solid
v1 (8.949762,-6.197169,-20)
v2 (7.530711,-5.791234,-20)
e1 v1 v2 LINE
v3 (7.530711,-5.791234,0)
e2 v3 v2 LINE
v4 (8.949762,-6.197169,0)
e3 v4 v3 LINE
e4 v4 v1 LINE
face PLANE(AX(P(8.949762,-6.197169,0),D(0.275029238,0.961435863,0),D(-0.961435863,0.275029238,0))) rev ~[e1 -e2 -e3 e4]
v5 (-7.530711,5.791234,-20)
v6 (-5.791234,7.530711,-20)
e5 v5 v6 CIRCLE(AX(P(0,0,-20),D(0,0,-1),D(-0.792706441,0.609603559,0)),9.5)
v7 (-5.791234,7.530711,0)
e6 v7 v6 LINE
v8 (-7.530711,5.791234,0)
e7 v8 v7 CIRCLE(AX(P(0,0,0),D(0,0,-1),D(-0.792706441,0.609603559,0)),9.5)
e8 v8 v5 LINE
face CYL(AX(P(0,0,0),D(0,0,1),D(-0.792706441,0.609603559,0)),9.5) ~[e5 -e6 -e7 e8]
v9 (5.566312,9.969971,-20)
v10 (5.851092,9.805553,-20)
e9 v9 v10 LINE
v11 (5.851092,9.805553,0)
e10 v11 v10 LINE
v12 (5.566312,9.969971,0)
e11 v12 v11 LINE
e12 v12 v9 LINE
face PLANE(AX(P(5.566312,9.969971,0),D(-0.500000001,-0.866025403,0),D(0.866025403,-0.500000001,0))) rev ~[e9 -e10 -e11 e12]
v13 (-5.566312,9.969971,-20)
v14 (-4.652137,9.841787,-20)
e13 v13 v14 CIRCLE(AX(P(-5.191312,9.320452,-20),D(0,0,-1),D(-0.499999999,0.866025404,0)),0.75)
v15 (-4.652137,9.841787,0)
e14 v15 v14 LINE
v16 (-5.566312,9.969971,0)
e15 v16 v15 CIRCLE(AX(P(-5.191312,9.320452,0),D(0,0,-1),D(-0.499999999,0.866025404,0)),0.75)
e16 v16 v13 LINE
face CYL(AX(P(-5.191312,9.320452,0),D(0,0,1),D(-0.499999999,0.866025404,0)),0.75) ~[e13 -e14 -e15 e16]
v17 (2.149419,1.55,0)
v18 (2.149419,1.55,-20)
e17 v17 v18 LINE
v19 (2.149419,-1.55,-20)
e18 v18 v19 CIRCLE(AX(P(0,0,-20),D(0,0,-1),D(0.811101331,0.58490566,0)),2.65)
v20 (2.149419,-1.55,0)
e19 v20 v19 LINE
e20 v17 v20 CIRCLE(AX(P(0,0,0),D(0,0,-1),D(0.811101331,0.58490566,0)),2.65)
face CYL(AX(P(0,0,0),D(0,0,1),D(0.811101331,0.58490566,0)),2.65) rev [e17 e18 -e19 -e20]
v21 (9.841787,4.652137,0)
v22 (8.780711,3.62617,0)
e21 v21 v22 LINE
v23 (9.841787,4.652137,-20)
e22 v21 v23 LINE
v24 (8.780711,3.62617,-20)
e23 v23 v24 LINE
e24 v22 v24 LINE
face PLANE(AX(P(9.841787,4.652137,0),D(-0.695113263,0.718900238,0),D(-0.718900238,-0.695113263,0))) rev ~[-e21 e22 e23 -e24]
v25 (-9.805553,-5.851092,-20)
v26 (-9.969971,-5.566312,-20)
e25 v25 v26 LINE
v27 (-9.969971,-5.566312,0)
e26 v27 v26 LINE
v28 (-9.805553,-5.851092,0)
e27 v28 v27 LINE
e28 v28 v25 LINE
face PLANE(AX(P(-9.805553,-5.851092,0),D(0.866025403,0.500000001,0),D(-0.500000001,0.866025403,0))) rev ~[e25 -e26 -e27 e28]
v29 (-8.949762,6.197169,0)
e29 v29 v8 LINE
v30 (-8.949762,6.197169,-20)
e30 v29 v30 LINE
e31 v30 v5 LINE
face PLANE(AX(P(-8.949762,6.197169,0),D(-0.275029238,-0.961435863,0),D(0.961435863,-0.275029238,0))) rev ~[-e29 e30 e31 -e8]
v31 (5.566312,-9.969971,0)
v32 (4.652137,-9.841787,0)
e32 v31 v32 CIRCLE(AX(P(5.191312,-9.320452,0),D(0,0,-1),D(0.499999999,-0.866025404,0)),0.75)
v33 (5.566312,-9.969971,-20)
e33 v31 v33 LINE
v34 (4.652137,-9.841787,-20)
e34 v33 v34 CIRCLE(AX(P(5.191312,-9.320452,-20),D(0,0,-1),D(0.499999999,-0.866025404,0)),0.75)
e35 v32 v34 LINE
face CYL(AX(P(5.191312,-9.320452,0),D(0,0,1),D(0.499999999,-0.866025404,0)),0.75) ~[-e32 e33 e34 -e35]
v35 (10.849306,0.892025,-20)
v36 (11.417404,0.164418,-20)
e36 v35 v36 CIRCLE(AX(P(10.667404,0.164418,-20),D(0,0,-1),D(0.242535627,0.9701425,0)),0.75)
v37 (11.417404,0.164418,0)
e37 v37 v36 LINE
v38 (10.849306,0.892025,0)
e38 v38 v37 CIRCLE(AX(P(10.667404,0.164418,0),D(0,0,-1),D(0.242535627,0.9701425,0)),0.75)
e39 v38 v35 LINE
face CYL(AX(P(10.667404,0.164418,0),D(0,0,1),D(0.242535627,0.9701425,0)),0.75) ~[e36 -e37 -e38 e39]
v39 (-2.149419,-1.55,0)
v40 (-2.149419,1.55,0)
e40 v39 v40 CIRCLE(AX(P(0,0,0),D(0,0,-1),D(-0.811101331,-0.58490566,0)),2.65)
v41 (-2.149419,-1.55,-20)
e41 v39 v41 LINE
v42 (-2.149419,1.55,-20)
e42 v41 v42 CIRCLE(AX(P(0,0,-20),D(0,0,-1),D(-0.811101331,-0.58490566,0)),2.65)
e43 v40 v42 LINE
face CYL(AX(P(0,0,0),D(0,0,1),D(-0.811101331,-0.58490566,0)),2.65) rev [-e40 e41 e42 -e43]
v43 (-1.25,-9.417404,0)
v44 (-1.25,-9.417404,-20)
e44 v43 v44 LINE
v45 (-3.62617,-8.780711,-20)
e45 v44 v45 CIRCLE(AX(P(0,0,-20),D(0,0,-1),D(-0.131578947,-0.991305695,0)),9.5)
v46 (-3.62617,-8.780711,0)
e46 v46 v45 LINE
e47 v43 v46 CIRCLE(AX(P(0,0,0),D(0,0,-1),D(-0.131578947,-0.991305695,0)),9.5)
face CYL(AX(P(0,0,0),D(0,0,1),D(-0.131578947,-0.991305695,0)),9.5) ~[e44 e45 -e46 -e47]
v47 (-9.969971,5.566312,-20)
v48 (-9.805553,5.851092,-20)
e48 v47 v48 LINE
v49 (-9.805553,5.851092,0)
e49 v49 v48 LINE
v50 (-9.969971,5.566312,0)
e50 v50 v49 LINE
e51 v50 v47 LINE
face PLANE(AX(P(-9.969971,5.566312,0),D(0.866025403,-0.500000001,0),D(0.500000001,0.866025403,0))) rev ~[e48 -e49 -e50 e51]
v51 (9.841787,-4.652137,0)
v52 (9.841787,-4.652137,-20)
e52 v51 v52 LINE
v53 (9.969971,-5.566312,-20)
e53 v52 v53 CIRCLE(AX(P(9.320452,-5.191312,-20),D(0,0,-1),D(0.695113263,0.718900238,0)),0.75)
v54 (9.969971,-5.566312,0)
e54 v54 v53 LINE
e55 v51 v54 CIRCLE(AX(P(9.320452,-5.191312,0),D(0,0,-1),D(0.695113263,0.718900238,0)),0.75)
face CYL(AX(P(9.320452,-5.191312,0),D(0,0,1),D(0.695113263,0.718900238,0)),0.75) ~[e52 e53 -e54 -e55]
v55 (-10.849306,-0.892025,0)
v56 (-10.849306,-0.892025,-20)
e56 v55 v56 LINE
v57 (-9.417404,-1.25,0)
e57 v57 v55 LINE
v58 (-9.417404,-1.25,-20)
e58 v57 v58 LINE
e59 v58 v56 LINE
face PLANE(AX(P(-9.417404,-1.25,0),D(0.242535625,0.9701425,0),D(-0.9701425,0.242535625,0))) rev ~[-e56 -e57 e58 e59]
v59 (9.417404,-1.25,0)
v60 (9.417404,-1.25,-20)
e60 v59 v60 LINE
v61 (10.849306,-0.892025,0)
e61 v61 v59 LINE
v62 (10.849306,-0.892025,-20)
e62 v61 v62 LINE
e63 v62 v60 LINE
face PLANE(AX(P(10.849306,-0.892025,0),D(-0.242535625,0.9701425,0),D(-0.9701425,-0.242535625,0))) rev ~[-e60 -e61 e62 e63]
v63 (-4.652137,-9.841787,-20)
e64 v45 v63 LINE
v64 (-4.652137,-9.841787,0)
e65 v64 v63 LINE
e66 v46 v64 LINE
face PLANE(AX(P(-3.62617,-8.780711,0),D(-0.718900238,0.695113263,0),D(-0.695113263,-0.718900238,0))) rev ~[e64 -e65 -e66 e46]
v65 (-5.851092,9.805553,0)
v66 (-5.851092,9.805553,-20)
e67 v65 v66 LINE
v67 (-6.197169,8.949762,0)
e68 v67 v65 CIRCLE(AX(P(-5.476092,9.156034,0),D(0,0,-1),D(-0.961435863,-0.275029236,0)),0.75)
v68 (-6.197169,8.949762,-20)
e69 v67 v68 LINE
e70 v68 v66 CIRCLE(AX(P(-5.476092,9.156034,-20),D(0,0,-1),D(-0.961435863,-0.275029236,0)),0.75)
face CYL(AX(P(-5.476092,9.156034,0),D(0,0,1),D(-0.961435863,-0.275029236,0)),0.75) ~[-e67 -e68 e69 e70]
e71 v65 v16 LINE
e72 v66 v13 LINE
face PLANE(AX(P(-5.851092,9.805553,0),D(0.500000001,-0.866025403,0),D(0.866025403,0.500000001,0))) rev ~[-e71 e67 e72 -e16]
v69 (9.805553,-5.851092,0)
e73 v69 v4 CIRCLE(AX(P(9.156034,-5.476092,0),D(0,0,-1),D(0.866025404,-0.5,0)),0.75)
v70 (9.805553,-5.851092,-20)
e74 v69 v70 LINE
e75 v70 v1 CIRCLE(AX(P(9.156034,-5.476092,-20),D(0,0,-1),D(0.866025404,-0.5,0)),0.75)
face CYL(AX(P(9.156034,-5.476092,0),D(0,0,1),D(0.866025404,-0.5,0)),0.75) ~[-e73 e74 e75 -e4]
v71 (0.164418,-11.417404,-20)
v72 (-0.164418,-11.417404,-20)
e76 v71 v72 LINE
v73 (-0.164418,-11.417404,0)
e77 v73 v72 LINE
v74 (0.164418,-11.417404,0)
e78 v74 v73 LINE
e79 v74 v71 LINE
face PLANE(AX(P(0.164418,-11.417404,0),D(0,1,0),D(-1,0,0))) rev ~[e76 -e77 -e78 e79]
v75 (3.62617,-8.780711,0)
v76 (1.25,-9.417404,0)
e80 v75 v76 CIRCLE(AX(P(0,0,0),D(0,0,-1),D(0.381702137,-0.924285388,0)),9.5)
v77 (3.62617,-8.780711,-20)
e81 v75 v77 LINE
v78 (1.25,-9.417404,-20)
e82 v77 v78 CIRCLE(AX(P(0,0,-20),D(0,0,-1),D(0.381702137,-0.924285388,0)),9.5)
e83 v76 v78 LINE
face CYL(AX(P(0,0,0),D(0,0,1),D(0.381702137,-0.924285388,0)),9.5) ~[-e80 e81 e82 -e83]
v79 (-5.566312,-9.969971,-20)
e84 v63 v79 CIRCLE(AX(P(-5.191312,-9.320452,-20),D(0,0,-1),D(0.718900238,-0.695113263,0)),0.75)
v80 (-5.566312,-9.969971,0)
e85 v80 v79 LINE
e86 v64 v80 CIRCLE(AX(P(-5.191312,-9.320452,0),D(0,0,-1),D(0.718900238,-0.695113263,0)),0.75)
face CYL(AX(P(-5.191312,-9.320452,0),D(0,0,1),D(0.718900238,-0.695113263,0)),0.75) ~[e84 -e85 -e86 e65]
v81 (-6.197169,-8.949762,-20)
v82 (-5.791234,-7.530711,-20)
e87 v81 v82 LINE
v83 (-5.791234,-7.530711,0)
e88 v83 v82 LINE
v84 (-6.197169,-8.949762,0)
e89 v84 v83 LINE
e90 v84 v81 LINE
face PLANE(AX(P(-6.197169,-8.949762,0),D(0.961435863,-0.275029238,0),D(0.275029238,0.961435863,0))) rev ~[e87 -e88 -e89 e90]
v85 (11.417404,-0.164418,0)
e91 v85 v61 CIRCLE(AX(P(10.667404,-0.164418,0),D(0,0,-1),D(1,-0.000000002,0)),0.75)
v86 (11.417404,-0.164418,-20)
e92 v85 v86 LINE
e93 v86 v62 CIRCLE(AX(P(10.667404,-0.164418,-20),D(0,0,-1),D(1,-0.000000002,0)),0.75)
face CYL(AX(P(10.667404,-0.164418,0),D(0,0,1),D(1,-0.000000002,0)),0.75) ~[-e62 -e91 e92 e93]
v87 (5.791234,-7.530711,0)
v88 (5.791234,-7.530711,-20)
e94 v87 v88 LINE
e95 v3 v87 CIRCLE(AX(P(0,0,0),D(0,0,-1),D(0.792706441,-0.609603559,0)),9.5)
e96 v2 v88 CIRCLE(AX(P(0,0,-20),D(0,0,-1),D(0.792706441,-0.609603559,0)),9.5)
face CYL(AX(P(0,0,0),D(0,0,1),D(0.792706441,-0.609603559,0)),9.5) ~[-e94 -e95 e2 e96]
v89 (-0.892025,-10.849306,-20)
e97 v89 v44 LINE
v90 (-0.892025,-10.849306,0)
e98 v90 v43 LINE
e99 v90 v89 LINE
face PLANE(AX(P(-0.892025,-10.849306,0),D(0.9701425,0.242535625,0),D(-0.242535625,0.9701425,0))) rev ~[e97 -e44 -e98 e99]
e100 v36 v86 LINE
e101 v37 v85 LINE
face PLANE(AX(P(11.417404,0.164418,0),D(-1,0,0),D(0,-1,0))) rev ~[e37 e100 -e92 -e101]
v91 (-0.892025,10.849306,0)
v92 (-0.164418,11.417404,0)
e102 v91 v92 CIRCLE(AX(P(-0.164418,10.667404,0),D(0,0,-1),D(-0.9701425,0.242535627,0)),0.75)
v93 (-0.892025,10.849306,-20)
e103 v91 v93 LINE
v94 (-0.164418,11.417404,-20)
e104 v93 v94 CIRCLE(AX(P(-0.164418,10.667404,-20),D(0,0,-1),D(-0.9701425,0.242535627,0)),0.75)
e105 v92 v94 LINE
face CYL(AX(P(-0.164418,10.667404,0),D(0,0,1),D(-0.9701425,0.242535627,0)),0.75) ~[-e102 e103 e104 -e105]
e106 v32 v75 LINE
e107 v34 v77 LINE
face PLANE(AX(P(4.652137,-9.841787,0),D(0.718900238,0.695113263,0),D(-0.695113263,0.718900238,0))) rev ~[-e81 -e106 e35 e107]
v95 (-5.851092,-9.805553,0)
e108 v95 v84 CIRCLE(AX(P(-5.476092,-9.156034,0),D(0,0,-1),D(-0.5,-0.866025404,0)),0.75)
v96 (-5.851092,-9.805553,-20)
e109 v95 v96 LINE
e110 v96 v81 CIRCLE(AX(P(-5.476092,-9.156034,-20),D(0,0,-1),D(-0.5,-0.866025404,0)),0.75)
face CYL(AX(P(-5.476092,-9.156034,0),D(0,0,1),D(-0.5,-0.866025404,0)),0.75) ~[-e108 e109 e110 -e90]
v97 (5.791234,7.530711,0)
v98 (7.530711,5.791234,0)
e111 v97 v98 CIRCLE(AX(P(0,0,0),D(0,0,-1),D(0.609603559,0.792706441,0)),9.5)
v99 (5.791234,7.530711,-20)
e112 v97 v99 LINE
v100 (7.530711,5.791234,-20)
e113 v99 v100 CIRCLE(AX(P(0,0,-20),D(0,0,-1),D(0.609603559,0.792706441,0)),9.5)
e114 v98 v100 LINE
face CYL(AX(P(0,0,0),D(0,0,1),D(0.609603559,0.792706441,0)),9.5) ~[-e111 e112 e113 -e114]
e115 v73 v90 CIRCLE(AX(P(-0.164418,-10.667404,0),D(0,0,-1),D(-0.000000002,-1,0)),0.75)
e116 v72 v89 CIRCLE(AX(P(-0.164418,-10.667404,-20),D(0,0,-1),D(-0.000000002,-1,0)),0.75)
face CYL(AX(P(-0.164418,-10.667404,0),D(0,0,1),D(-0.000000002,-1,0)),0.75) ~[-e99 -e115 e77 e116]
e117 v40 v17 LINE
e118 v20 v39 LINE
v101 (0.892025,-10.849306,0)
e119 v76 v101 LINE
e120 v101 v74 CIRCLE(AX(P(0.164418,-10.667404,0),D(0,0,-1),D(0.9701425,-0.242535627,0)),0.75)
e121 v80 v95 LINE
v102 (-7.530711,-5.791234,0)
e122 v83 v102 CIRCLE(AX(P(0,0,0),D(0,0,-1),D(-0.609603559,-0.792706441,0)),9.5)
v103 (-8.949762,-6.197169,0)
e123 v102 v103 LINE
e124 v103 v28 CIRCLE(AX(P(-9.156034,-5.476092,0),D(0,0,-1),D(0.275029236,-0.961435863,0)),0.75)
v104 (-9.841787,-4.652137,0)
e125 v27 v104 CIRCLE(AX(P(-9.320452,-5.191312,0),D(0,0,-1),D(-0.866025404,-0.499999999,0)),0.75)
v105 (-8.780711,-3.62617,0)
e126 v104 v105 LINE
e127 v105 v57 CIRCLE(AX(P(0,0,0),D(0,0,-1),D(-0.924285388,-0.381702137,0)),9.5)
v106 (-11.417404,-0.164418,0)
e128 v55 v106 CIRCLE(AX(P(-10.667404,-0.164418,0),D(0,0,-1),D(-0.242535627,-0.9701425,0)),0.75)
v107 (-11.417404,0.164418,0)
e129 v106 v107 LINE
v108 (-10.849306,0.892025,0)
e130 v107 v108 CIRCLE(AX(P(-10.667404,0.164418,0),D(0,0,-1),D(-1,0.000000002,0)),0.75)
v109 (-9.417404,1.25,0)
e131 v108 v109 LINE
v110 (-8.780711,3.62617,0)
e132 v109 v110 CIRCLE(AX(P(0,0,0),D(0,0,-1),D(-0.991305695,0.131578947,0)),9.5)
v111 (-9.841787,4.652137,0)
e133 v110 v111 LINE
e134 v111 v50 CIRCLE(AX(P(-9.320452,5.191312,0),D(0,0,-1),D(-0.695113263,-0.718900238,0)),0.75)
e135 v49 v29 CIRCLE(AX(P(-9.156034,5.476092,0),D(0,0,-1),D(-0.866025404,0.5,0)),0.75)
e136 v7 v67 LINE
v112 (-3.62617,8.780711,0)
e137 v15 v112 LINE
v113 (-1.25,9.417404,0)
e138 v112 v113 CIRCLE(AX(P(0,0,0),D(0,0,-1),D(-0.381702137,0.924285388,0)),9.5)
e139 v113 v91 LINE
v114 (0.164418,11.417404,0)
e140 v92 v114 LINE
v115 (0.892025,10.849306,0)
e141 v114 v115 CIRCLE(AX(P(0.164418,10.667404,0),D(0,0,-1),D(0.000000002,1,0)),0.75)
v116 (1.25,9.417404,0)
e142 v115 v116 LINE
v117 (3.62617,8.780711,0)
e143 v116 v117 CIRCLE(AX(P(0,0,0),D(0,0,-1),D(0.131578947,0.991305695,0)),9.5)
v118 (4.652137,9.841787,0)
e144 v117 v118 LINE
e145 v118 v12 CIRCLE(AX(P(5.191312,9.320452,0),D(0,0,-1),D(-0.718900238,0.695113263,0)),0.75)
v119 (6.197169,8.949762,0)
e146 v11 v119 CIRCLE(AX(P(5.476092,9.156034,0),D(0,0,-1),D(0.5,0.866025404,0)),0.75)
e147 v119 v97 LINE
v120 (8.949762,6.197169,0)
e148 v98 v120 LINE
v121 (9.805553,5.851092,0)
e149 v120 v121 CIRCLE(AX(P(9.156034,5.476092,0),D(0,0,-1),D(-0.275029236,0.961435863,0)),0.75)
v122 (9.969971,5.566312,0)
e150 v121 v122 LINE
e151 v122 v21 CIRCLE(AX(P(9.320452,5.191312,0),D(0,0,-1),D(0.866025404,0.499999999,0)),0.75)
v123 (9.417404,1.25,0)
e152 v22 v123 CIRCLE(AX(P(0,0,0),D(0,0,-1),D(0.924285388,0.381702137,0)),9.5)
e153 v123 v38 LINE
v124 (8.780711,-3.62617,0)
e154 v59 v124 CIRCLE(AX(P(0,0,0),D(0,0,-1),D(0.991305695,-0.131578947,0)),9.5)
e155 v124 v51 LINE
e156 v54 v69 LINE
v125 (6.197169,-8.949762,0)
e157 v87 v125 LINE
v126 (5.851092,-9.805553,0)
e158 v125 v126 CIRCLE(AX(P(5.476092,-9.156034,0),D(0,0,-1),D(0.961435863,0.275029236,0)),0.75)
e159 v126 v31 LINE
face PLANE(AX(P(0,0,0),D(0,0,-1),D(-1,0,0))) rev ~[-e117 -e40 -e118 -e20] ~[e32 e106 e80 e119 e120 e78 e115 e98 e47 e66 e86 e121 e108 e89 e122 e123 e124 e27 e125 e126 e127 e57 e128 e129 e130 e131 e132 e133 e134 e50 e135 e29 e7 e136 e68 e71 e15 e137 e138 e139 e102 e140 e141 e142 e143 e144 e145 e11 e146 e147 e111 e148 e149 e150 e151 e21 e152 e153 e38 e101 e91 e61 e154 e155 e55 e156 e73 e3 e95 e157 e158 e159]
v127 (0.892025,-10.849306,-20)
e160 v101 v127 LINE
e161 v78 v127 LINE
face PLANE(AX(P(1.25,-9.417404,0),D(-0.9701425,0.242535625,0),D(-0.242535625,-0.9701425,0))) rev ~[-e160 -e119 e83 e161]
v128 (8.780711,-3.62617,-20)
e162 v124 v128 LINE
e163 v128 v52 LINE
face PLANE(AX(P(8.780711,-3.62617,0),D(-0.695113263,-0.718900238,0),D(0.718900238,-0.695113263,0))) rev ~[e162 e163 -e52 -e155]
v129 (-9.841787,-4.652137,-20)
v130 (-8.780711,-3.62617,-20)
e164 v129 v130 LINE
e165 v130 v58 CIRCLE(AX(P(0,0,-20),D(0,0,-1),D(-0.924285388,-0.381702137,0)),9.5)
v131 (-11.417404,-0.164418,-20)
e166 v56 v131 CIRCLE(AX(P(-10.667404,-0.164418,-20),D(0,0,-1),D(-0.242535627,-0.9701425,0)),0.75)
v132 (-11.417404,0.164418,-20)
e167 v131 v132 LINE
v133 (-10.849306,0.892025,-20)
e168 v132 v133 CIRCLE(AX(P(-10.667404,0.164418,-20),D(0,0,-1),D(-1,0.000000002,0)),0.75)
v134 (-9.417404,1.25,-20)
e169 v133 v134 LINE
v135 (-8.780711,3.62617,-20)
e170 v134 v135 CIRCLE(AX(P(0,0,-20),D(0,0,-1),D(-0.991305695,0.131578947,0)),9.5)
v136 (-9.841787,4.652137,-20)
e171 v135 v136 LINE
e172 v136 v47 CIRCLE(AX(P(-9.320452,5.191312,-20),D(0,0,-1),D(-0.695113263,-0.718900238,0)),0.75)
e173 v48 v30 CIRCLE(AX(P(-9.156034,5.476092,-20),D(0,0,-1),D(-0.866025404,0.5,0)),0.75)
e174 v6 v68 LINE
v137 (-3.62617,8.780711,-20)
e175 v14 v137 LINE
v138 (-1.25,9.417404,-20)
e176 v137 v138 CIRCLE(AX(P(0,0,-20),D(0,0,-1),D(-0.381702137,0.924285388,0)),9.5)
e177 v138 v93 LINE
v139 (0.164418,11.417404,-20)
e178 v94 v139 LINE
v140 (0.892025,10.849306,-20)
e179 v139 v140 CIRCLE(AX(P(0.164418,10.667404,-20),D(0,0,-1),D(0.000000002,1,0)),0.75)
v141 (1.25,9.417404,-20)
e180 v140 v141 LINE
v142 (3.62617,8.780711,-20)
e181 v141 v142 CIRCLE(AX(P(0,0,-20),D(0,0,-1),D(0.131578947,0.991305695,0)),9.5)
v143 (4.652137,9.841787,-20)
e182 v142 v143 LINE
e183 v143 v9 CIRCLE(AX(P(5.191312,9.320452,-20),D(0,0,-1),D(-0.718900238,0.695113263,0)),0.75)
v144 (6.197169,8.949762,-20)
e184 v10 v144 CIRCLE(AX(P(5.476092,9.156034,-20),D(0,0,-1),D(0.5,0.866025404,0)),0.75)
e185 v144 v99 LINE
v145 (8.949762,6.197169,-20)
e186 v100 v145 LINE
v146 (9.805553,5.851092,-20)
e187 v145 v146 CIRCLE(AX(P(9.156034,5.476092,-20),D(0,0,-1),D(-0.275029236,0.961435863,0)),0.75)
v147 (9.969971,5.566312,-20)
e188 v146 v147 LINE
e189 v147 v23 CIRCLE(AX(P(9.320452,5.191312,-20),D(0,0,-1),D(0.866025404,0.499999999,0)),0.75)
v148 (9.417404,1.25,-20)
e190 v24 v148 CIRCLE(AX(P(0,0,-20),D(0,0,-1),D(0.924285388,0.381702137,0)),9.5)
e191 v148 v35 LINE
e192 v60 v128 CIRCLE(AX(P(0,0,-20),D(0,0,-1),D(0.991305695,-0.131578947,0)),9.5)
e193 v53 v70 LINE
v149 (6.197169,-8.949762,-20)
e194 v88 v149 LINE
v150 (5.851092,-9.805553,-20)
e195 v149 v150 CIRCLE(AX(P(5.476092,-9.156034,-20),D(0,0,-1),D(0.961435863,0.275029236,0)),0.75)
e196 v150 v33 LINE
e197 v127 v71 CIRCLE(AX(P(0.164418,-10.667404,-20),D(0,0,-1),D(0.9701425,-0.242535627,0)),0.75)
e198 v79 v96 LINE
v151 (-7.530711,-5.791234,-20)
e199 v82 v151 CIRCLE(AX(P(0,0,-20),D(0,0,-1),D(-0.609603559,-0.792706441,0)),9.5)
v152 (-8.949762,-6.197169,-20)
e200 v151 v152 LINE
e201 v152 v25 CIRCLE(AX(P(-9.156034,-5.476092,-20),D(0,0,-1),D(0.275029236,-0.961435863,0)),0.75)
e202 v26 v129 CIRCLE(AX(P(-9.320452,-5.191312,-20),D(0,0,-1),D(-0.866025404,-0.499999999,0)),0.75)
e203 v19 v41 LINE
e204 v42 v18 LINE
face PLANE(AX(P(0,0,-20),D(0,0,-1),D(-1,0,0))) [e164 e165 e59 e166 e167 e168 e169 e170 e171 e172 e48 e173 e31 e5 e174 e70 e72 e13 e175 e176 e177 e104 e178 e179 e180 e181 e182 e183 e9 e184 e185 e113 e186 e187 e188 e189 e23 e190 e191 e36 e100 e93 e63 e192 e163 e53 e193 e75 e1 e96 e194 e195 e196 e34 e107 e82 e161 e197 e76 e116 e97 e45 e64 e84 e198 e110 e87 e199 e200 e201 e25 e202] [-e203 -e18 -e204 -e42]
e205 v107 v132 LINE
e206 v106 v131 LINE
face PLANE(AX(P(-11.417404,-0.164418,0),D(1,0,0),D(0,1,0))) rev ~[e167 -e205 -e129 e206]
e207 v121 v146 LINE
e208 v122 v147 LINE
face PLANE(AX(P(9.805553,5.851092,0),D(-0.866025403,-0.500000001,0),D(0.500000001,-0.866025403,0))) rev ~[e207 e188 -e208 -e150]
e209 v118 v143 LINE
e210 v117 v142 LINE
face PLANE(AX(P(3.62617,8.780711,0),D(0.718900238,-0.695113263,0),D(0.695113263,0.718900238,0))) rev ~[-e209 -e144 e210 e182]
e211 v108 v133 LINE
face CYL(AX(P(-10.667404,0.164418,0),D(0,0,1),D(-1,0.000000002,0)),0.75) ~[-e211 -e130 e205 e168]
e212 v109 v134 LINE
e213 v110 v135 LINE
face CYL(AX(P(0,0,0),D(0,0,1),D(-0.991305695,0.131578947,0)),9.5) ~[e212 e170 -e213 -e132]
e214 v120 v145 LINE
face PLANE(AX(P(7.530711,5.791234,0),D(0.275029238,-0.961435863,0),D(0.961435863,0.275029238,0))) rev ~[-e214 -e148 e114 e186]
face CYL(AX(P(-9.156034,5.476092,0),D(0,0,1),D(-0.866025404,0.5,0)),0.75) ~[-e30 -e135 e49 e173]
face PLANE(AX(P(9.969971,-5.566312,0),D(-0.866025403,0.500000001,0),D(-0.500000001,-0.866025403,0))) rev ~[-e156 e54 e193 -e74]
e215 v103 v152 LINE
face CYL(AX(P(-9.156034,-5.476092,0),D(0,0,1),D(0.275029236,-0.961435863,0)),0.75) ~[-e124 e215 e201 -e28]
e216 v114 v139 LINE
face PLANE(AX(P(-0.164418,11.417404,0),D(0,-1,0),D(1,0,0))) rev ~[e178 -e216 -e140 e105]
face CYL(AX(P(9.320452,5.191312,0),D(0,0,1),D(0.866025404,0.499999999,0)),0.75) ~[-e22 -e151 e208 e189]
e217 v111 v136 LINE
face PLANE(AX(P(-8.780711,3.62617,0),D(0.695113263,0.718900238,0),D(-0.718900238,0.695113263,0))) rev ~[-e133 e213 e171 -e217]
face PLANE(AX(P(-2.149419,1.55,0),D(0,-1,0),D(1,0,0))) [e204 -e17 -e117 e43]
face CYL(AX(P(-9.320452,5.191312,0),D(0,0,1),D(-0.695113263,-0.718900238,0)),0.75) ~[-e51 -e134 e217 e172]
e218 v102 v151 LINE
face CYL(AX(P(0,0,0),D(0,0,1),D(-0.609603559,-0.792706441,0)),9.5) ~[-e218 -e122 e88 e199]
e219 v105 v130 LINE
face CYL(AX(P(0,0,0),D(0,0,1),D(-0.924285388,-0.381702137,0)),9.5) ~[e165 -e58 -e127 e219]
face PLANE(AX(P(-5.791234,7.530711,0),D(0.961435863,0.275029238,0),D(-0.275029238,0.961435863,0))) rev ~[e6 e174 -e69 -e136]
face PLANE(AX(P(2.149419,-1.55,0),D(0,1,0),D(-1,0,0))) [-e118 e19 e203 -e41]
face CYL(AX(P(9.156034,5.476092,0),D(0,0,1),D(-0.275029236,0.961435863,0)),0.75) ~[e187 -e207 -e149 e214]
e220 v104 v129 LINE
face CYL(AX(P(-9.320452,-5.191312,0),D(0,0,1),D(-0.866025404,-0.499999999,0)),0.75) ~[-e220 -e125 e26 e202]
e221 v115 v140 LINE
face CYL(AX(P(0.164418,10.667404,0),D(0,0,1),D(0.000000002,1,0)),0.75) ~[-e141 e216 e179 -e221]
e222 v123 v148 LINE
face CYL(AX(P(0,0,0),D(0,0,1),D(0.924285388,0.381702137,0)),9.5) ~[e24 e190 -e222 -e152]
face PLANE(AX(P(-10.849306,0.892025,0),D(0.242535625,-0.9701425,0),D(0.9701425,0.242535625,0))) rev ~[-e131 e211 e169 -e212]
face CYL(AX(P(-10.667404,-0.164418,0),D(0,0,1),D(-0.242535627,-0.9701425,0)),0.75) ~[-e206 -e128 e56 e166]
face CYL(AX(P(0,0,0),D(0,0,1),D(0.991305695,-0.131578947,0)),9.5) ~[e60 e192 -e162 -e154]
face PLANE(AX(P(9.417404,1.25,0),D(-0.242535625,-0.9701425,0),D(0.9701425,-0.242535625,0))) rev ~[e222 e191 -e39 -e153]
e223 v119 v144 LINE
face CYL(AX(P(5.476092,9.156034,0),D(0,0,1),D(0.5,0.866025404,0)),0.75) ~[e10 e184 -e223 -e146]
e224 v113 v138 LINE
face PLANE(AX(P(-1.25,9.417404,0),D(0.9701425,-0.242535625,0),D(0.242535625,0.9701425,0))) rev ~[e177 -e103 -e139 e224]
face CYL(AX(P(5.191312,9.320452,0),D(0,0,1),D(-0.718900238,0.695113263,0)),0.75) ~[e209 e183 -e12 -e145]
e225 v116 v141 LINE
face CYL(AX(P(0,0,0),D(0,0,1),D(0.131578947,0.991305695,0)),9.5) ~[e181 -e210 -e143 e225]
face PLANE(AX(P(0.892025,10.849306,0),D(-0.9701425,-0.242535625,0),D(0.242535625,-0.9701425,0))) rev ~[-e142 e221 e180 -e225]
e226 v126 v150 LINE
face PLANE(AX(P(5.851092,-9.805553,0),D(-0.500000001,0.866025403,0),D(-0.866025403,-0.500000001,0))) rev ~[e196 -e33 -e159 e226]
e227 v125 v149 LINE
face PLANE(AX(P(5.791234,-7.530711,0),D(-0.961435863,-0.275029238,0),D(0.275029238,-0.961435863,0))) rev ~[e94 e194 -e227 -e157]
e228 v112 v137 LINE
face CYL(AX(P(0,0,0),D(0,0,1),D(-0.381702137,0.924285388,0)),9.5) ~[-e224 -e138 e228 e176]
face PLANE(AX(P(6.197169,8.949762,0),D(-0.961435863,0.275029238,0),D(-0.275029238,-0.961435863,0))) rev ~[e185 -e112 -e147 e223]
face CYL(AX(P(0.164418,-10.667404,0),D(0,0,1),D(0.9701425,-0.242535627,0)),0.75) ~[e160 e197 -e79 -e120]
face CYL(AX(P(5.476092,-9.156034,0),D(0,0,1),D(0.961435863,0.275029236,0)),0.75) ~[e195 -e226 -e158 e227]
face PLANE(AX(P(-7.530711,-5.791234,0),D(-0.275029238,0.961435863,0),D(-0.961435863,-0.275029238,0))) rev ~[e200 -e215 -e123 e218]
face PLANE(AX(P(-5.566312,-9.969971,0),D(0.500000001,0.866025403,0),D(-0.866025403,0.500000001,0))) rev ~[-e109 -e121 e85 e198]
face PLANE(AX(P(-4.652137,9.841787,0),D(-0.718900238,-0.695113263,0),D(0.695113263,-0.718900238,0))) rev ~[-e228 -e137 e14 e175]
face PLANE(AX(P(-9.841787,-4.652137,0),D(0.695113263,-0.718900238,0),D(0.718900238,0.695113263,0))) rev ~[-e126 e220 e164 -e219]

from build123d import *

# Parameters (mm, degrees)
Y_KSEKLIK_EKSTR_ZYON1_DEPTH = 20
IZIM2_R                     = 5
KES_EKSTR_ZYON1_DEPTH       = 15
IZIM3_R                     = 7.433299963
Y_KSEKLIK_EKSTR_ZYON2_DEPTH = 15
Y_KSEKLIK_EKSTR_ZYON3_DEPTH = 20
KES_EKSTR_ZYON2_DEPTH       = 20


with BuildPart() as part:
    # Çizim1 → Yükseklik-Ekstrüzyon1 (new body)
    with BuildSketch(Plane.XY):
        with BuildLine():
            Line((-1.25, 9.417404101), (-0.89202457, 10.84930582))
            ThreePointArc((-0.89202457, 10.84930582), (-0.625976852, 11.258558179), (-0.164417695, 11.417404101))
            Line((-0.164417695, 11.417404101), (0.164417695, 11.417404101))
            ThreePointArc((0.164417695, 11.417404101), (0.625976852, 11.258558179), (0.89202457, 10.84930582))
            Line((0.89202457, 10.84930582), (1.25, 9.417404101))
            ThreePointArc((1.25, 9.417404101), (2.458780928, 9.17629535), (3.626170296, 8.780711189))
            Line((3.626170296, 8.780711189), (4.652136971, 9.841786738))
            ThreePointArc((4.652136971, 9.841786738), (5.087167233, 10.063185819), (5.56631215, 9.969970844))
            Line((5.56631215, 9.969970844), (5.851091951, 9.805553149))
            ThreePointArc((5.851091951, 9.805553149), (6.171390946, 9.437208967), (6.197168849, 8.949762168))
            Line((6.197168849, 8.949762168), (5.791233805, 7.530711189))
            ThreePointArc((5.791233805, 7.530711189), (6.717514421, 6.717514421), (7.530711189, 5.791233805))
            Line((7.530711189, 5.791233805), (8.949762168, 6.197168849))
            ThreePointArc((8.949762168, 6.197168849), (9.437208967, 6.171390946), (9.805553149, 5.851091951))
            Line((9.805553149, 5.851091951), (9.969970844, 5.56631215))
            ThreePointArc((9.969970844, 5.56631215), (10.063185819, 5.087167233), (9.841786738, 4.652136971))
            Line((9.841786738, 4.652136971), (8.780711189, 3.626170296))
            ThreePointArc((8.780711189, 3.626170296), (9.17629535, 2.458780928), (9.417404101, 1.25))
            Line((9.417404101, 1.25), (10.84930582, 0.89202457))
            ThreePointArc((10.84930582, 0.89202457), (11.258558179, 0.625976852), (11.417404101, 0.164417695))
            Line((11.417404101, 0.164417695), (11.417404101, -0.164417695))
            ThreePointArc((11.417404101, -0.164417695), (11.258558179, -0.625976852), (10.84930582, -0.89202457))
            Line((10.84930582, -0.89202457), (9.417404101, -1.25))
            ThreePointArc((9.417404101, -1.25), (9.17629535, -2.458780928), (8.780711189, -3.626170296))
            Line((8.780711189, -3.626170296), (9.841786738, -4.652136971))
            ThreePointArc((9.841786738, -4.652136971), (10.063185819, -5.087167233), (9.969970844, -5.56631215))
            Line((9.969970844, -5.56631215), (9.805553149, -5.851091951))
            ThreePointArc((9.805553149, -5.851091951), (9.437208967, -6.171390946), (8.949762168, -6.197168849))
            Line((8.949762168, -6.197168849), (7.530711189, -5.791233805))
            ThreePointArc((7.530711189, -5.791233805), (6.717514421, -6.717514421), (5.791233805, -7.530711189))
            Line((5.791233805, -7.530711189), (6.197168849, -8.949762168))
            ThreePointArc((6.197168849, -8.949762168), (6.171390946, -9.437208967), (5.851091951, -9.805553149))
            Line((5.851091951, -9.805553149), (5.56631215, -9.969970844))
            ThreePointArc((5.56631215, -9.969970844), (5.087167233, -10.063185819), (4.652136971, -9.841786738))
            Line((4.652136971, -9.841786738), (3.626170296, -8.780711189))
            ThreePointArc((3.626170296, -8.780711189), (2.458780928, -9.17629535), (1.25, -9.417404101))
            Line((1.25, -9.417404101), (0.89202457, -10.84930582))
            ThreePointArc((0.89202457, -10.84930582), (0.625976852, -11.258558179), (0.164417695, -11.417404101))
            Line((0.164417695, -11.417404101), (-0.164417695, -11.417404101))
            ThreePointArc((-0.164417695, -11.417404101), (-0.625976852, -11.258558179), (-0.89202457, -10.84930582))
            Line((-0.89202457, -10.84930582), (-1.25, -9.417404101))
            ThreePointArc((-1.25, -9.417404101), (-2.458780928, -9.17629535), (-3.626170296, -8.780711189))
            Line((-3.626170296, -8.780711189), (-4.652136971, -9.841786738))
            ThreePointArc((-4.652136971, -9.841786738), (-5.087167233, -10.063185819), (-5.56631215, -9.969970844))
            Line((-5.56631215, -9.969970844), (-5.851091951, -9.805553149))
            ThreePointArc((-5.851091951, -9.805553149), (-6.171390946, -9.437208967), (-6.197168849, -8.949762168))
            Line((-6.197168849, -8.949762168), (-5.791233805, -7.530711189))
            ThreePointArc((-5.791233805, -7.530711189), (-6.717514421, -6.717514421), (-7.530711189, -5.791233805))
            Line((-7.530711189, -5.791233805), (-8.949762168, -6.197168849))
            ThreePointArc((-8.949762168, -6.197168849), (-9.437208967, -6.171390946), (-9.805553149, -5.851091951))
            Line((-9.805553149, -5.851091951), (-9.969970844, -5.56631215))
            ThreePointArc((-9.969970844, -5.56631215), (-10.063185819, -5.087167233), (-9.841786738, -4.652136971))
            Line((-9.841786738, -4.652136971), (-8.780711189, -3.626170296))
            ThreePointArc((-8.780711189, -3.626170296), (-9.17629535, -2.458780928), (-9.417404101, -1.25))
            Line((-9.417404101, -1.25), (-10.84930582, -0.89202457))
            ThreePointArc((-10.84930582, -0.89202457), (-11.258558179, -0.625976852), (-11.417404101, -0.164417695))
            Line((-11.417404101, -0.164417695), (-11.417404101, 0.164417695))
            ThreePointArc((-11.417404101, 0.164417695), (-11.258558179, 0.625976852), (-10.84930582, 0.89202457))
            Line((-10.84930582, 0.89202457), (-9.417404101, 1.25))
            ThreePointArc((-9.417404101, 1.25), (-9.17629535, 2.458780928), (-8.780711189, 3.626170296))
            Line((-8.780711189, 3.626170296), (-9.841786738, 4.652136971))
            ThreePointArc((-9.841786738, 4.652136971), (-10.063185819, 5.087167233), (-9.969970844, 5.56631215))
            Line((-9.969970844, 5.56631215), (-9.805553149, 5.851091951))
            ThreePointArc((-9.805553149, 5.851091951), (-9.437208967, 6.171390946), (-8.949762168, 6.197168849))
            Line((-8.949762168, 6.197168849), (-7.530711189, 5.791233805))
            ThreePointArc((-7.530711189, 5.791233805), (-6.717514421, 6.717514421), (-5.791233805, 7.530711189))
            Line((-5.791233805, 7.530711189), (-6.197168849, 8.949762168))
            ThreePointArc((-6.197168849, 8.949762168), (-6.171390946, 9.437208967), (-5.851091951, 9.805553149))
            Line((-5.851091951, 9.805553149), (-5.56631215, 9.969970844))
            ThreePointArc((-5.56631215, 9.969970844), (-5.087167233, 10.063185819), (-4.652136971, 9.841786738))
            Line((-4.652136971, 9.841786738), (-3.626170296, 8.780711189))
            ThreePointArc((-3.626170296, 8.780711189), (-2.458780928, 9.17629535), (-1.25, 9.417404101))
        make_face()
    extrude(amount=-Y_KSEKLIK_EKSTR_ZYON1_DEPTH)

    # Çizim2 → Kes-Ekstrüzyon1 (cut)
    with BuildSketch(Plane(origin=(0, 0, -20), x_dir=(-1, 0, 0), z_dir=(0, 0, -1))):
        Circle(IZIM2_R)
    extrude(amount=-KES_EKSTR_ZYON1_DEPTH, mode=Mode.SUBTRACT)

    # Çizim3 → Yükseklik-Ekstrüzyon2 (add)
    with BuildSketch(Plane(origin=(0, 0, -20), x_dir=(-1, 0, 0), z_dir=(0, 0, -1))):
        Circle(IZIM3_R)
        with BuildLine():
            Line((-2.154065923, 2.5), (2.154065923, 2.5))
            ThreePointArc((2.154065923, 2.5), (0, -3.3), (-2.154065923, 2.5))
        make_face(mode=Mode.SUBTRACT)
    extrude(amount=-Y_KSEKLIK_EKSTR_ZYON2_DEPTH)

    # Çizim1<2> → Yükseklik-Ekstrüzyon3 (add)
    with BuildSketch(Plane.XY):
        with BuildLine():
            Line((-1.25, 9.417404101), (-0.89202457, 10.84930582))
            ThreePointArc((-0.89202457, 10.84930582), (-0.625976852, 11.258558179), (-0.164417695, 11.417404101))
            Line((-0.164417695, 11.417404101), (0.164417695, 11.417404101))
            ThreePointArc((0.164417695, 11.417404101), (0.625976852, 11.258558179), (0.89202457, 10.84930582))
            Line((0.89202457, 10.84930582), (1.25, 9.417404101))
            ThreePointArc((1.25, 9.417404101), (2.458780928, 9.17629535), (3.626170296, 8.780711189))
            Line((3.626170296, 8.780711189), (4.652136971, 9.841786738))
            ThreePointArc((4.652136971, 9.841786738), (5.087167233, 10.063185819), (5.56631215, 9.969970844))
            Line((5.56631215, 9.969970844), (5.851091951, 9.805553149))
            ThreePointArc((5.851091951, 9.805553149), (6.171390946, 9.437208967), (6.197168849, 8.949762168))
            Line((6.197168849, 8.949762168), (5.791233805, 7.530711189))
            ThreePointArc((5.791233805, 7.530711189), (6.717514421, 6.717514421), (7.530711189, 5.791233805))
            Line((7.530711189, 5.791233805), (8.949762168, 6.197168849))
            ThreePointArc((8.949762168, 6.197168849), (9.437208967, 6.171390946), (9.805553149, 5.851091951))
            Line((9.805553149, 5.851091951), (9.969970844, 5.56631215))
            ThreePointArc((9.969970844, 5.56631215), (10.063185819, 5.087167233), (9.841786738, 4.652136971))
            Line((9.841786738, 4.652136971), (8.780711189, 3.626170296))
            ThreePointArc((8.780711189, 3.626170296), (9.17629535, 2.458780928), (9.417404101, 1.25))
            Line((9.417404101, 1.25), (10.84930582, 0.89202457))
            ThreePointArc((10.84930582, 0.89202457), (11.258558179, 0.625976852), (11.417404101, 0.164417695))
            Line((11.417404101, 0.164417695), (11.417404101, -0.164417695))
            ThreePointArc((11.417404101, -0.164417695), (11.258558179, -0.625976852), (10.84930582, -0.89202457))
            Line((10.84930582, -0.89202457), (9.417404101, -1.25))
            ThreePointArc((9.417404101, -1.25), (9.17629535, -2.458780928), (8.780711189, -3.626170296))
            Line((8.780711189, -3.626170296), (9.841786738, -4.652136971))
            ThreePointArc((9.841786738, -4.652136971), (10.063185819, -5.087167233), (9.969970844, -5.56631215))
            Line((9.969970844, -5.56631215), (9.805553149, -5.851091951))
            ThreePointArc((9.805553149, -5.851091951), (9.437208967, -6.171390946), (8.949762168, -6.197168849))
            Line((8.949762168, -6.197168849), (7.530711189, -5.791233805))
            ThreePointArc((7.530711189, -5.791233805), (6.717514421, -6.717514421), (5.791233805, -7.530711189))
            Line((5.791233805, -7.530711189), (6.197168849, -8.949762168))
            ThreePointArc((6.197168849, -8.949762168), (6.171390946, -9.437208967), (5.851091951, -9.805553149))
            Line((5.851091951, -9.805553149), (5.56631215, -9.969970844))
            ThreePointArc((5.56631215, -9.969970844), (5.087167233, -10.063185819), (4.652136971, -9.841786738))
            Line((4.652136971, -9.841786738), (3.626170296, -8.780711189))
            ThreePointArc((3.626170296, -8.780711189), (2.458780928, -9.17629535), (1.25, -9.417404101))
            Line((1.25, -9.417404101), (0.89202457, -10.84930582))
            ThreePointArc((0.89202457, -10.84930582), (0.625976852, -11.258558179), (0.164417695, -11.417404101))
            Line((0.164417695, -11.417404101), (-0.164417695, -11.417404101))
            ThreePointArc((-0.164417695, -11.417404101), (-0.625976852, -11.258558179), (-0.89202457, -10.84930582))
            Line((-0.89202457, -10.84930582), (-1.25, -9.417404101))
            ThreePointArc((-1.25, -9.417404101), (-2.458780928, -9.17629535), (-3.626170296, -8.780711189))
            Line((-3.626170296, -8.780711189), (-4.652136971, -9.841786738))
            ThreePointArc((-4.652136971, -9.841786738), (-5.087167233, -10.063185819), (-5.56631215, -9.969970844))
            Line((-5.56631215, -9.969970844), (-5.851091951, -9.805553149))
            ThreePointArc((-5.851091951, -9.805553149), (-6.171390946, -9.437208967), (-6.197168849, -8.949762168))
            Line((-6.197168849, -8.949762168), (-5.791233805, -7.530711189))
            ThreePointArc((-5.791233805, -7.530711189), (-6.717514421, -6.717514421), (-7.530711189, -5.791233805))
            Line((-7.530711189, -5.791233805), (-8.949762168, -6.197168849))
            ThreePointArc((-8.949762168, -6.197168849), (-9.437208967, -6.171390946), (-9.805553149, -5.851091951))
            Line((-9.805553149, -5.851091951), (-9.969970844, -5.56631215))
            ThreePointArc((-9.969970844, -5.56631215), (-10.063185819, -5.087167233), (-9.841786738, -4.652136971))
            Line((-9.841786738, -4.652136971), (-8.780711189, -3.626170296))
            ThreePointArc((-8.780711189, -3.626170296), (-9.17629535, -2.458780928), (-9.417404101, -1.25))
            Line((-9.417404101, -1.25), (-10.84930582, -0.89202457))
            ThreePointArc((-10.84930582, -0.89202457), (-11.258558179, -0.625976852), (-11.417404101, -0.164417695))
            Line((-11.417404101, -0.164417695), (-11.417404101, 0.164417695))
            ThreePointArc((-11.417404101, 0.164417695), (-11.258558179, 0.625976852), (-10.84930582, 0.89202457))
            Line((-10.84930582, 0.89202457), (-9.417404101, 1.25))
            ThreePointArc((-9.417404101, 1.25), (-9.17629535, 2.458780928), (-8.780711189, 3.626170296))
            Line((-8.780711189, 3.626170296), (-9.841786738, 4.652136971))
            ThreePointArc((-9.841786738, 4.652136971), (-10.063185819, 5.087167233), (-9.969970844, 5.56631215))
            Line((-9.969970844, 5.56631215), (-9.805553149, 5.851091951))
            ThreePointArc((-9.805553149, 5.851091951), (-9.437208967, 6.171390946), (-8.949762168, 6.197168849))
            Line((-8.949762168, 6.197168849), (-7.530711189, 5.791233805))
            ThreePointArc((-7.530711189, 5.791233805), (-6.717514421, 6.717514421), (-5.791233805, 7.530711189))
            Line((-5.791233805, 7.530711189), (-6.197168849, 8.949762168))
            ThreePointArc((-6.197168849, 8.949762168), (-6.171390946, 9.437208967), (-5.851091951, 9.805553149))
            Line((-5.851091951, 9.805553149), (-5.56631215, 9.969970844))
            ThreePointArc((-5.56631215, 9.969970844), (-5.087167233, 10.063185819), (-4.652136971, 9.841786738))
            Line((-4.652136971, 9.841786738), (-3.626170296, 8.780711189))
            ThreePointArc((-3.626170296, 8.780711189), (-2.458780928, 9.17629535), (-1.25, 9.417404101))
        make_face()
    extrude(amount=-Y_KSEKLIK_EKSTR_ZYON3_DEPTH)

    # Çizim4 → Kes-Ekstrüzyon2 (cut)
    with BuildSketch(Plane.XY):
        with BuildLine():
            Line((-2.149418526, 1.55), (2.149418526, 1.55))
            ThreePointArc((2.149418526, 1.55), (2.65, 0), (2.149418526, -1.55))
            Line((2.149418526, -1.55), (-2.149418526, -1.55))
            ThreePointArc((-2.149418526, -1.55), (-2.65, 0), (-2.149418526, 1.55))
        make_face()
    extrude(amount=-KES_EKSTR_ZYON2_DEPTH, mode=Mode.SUBTRACT)


solid = part.part
